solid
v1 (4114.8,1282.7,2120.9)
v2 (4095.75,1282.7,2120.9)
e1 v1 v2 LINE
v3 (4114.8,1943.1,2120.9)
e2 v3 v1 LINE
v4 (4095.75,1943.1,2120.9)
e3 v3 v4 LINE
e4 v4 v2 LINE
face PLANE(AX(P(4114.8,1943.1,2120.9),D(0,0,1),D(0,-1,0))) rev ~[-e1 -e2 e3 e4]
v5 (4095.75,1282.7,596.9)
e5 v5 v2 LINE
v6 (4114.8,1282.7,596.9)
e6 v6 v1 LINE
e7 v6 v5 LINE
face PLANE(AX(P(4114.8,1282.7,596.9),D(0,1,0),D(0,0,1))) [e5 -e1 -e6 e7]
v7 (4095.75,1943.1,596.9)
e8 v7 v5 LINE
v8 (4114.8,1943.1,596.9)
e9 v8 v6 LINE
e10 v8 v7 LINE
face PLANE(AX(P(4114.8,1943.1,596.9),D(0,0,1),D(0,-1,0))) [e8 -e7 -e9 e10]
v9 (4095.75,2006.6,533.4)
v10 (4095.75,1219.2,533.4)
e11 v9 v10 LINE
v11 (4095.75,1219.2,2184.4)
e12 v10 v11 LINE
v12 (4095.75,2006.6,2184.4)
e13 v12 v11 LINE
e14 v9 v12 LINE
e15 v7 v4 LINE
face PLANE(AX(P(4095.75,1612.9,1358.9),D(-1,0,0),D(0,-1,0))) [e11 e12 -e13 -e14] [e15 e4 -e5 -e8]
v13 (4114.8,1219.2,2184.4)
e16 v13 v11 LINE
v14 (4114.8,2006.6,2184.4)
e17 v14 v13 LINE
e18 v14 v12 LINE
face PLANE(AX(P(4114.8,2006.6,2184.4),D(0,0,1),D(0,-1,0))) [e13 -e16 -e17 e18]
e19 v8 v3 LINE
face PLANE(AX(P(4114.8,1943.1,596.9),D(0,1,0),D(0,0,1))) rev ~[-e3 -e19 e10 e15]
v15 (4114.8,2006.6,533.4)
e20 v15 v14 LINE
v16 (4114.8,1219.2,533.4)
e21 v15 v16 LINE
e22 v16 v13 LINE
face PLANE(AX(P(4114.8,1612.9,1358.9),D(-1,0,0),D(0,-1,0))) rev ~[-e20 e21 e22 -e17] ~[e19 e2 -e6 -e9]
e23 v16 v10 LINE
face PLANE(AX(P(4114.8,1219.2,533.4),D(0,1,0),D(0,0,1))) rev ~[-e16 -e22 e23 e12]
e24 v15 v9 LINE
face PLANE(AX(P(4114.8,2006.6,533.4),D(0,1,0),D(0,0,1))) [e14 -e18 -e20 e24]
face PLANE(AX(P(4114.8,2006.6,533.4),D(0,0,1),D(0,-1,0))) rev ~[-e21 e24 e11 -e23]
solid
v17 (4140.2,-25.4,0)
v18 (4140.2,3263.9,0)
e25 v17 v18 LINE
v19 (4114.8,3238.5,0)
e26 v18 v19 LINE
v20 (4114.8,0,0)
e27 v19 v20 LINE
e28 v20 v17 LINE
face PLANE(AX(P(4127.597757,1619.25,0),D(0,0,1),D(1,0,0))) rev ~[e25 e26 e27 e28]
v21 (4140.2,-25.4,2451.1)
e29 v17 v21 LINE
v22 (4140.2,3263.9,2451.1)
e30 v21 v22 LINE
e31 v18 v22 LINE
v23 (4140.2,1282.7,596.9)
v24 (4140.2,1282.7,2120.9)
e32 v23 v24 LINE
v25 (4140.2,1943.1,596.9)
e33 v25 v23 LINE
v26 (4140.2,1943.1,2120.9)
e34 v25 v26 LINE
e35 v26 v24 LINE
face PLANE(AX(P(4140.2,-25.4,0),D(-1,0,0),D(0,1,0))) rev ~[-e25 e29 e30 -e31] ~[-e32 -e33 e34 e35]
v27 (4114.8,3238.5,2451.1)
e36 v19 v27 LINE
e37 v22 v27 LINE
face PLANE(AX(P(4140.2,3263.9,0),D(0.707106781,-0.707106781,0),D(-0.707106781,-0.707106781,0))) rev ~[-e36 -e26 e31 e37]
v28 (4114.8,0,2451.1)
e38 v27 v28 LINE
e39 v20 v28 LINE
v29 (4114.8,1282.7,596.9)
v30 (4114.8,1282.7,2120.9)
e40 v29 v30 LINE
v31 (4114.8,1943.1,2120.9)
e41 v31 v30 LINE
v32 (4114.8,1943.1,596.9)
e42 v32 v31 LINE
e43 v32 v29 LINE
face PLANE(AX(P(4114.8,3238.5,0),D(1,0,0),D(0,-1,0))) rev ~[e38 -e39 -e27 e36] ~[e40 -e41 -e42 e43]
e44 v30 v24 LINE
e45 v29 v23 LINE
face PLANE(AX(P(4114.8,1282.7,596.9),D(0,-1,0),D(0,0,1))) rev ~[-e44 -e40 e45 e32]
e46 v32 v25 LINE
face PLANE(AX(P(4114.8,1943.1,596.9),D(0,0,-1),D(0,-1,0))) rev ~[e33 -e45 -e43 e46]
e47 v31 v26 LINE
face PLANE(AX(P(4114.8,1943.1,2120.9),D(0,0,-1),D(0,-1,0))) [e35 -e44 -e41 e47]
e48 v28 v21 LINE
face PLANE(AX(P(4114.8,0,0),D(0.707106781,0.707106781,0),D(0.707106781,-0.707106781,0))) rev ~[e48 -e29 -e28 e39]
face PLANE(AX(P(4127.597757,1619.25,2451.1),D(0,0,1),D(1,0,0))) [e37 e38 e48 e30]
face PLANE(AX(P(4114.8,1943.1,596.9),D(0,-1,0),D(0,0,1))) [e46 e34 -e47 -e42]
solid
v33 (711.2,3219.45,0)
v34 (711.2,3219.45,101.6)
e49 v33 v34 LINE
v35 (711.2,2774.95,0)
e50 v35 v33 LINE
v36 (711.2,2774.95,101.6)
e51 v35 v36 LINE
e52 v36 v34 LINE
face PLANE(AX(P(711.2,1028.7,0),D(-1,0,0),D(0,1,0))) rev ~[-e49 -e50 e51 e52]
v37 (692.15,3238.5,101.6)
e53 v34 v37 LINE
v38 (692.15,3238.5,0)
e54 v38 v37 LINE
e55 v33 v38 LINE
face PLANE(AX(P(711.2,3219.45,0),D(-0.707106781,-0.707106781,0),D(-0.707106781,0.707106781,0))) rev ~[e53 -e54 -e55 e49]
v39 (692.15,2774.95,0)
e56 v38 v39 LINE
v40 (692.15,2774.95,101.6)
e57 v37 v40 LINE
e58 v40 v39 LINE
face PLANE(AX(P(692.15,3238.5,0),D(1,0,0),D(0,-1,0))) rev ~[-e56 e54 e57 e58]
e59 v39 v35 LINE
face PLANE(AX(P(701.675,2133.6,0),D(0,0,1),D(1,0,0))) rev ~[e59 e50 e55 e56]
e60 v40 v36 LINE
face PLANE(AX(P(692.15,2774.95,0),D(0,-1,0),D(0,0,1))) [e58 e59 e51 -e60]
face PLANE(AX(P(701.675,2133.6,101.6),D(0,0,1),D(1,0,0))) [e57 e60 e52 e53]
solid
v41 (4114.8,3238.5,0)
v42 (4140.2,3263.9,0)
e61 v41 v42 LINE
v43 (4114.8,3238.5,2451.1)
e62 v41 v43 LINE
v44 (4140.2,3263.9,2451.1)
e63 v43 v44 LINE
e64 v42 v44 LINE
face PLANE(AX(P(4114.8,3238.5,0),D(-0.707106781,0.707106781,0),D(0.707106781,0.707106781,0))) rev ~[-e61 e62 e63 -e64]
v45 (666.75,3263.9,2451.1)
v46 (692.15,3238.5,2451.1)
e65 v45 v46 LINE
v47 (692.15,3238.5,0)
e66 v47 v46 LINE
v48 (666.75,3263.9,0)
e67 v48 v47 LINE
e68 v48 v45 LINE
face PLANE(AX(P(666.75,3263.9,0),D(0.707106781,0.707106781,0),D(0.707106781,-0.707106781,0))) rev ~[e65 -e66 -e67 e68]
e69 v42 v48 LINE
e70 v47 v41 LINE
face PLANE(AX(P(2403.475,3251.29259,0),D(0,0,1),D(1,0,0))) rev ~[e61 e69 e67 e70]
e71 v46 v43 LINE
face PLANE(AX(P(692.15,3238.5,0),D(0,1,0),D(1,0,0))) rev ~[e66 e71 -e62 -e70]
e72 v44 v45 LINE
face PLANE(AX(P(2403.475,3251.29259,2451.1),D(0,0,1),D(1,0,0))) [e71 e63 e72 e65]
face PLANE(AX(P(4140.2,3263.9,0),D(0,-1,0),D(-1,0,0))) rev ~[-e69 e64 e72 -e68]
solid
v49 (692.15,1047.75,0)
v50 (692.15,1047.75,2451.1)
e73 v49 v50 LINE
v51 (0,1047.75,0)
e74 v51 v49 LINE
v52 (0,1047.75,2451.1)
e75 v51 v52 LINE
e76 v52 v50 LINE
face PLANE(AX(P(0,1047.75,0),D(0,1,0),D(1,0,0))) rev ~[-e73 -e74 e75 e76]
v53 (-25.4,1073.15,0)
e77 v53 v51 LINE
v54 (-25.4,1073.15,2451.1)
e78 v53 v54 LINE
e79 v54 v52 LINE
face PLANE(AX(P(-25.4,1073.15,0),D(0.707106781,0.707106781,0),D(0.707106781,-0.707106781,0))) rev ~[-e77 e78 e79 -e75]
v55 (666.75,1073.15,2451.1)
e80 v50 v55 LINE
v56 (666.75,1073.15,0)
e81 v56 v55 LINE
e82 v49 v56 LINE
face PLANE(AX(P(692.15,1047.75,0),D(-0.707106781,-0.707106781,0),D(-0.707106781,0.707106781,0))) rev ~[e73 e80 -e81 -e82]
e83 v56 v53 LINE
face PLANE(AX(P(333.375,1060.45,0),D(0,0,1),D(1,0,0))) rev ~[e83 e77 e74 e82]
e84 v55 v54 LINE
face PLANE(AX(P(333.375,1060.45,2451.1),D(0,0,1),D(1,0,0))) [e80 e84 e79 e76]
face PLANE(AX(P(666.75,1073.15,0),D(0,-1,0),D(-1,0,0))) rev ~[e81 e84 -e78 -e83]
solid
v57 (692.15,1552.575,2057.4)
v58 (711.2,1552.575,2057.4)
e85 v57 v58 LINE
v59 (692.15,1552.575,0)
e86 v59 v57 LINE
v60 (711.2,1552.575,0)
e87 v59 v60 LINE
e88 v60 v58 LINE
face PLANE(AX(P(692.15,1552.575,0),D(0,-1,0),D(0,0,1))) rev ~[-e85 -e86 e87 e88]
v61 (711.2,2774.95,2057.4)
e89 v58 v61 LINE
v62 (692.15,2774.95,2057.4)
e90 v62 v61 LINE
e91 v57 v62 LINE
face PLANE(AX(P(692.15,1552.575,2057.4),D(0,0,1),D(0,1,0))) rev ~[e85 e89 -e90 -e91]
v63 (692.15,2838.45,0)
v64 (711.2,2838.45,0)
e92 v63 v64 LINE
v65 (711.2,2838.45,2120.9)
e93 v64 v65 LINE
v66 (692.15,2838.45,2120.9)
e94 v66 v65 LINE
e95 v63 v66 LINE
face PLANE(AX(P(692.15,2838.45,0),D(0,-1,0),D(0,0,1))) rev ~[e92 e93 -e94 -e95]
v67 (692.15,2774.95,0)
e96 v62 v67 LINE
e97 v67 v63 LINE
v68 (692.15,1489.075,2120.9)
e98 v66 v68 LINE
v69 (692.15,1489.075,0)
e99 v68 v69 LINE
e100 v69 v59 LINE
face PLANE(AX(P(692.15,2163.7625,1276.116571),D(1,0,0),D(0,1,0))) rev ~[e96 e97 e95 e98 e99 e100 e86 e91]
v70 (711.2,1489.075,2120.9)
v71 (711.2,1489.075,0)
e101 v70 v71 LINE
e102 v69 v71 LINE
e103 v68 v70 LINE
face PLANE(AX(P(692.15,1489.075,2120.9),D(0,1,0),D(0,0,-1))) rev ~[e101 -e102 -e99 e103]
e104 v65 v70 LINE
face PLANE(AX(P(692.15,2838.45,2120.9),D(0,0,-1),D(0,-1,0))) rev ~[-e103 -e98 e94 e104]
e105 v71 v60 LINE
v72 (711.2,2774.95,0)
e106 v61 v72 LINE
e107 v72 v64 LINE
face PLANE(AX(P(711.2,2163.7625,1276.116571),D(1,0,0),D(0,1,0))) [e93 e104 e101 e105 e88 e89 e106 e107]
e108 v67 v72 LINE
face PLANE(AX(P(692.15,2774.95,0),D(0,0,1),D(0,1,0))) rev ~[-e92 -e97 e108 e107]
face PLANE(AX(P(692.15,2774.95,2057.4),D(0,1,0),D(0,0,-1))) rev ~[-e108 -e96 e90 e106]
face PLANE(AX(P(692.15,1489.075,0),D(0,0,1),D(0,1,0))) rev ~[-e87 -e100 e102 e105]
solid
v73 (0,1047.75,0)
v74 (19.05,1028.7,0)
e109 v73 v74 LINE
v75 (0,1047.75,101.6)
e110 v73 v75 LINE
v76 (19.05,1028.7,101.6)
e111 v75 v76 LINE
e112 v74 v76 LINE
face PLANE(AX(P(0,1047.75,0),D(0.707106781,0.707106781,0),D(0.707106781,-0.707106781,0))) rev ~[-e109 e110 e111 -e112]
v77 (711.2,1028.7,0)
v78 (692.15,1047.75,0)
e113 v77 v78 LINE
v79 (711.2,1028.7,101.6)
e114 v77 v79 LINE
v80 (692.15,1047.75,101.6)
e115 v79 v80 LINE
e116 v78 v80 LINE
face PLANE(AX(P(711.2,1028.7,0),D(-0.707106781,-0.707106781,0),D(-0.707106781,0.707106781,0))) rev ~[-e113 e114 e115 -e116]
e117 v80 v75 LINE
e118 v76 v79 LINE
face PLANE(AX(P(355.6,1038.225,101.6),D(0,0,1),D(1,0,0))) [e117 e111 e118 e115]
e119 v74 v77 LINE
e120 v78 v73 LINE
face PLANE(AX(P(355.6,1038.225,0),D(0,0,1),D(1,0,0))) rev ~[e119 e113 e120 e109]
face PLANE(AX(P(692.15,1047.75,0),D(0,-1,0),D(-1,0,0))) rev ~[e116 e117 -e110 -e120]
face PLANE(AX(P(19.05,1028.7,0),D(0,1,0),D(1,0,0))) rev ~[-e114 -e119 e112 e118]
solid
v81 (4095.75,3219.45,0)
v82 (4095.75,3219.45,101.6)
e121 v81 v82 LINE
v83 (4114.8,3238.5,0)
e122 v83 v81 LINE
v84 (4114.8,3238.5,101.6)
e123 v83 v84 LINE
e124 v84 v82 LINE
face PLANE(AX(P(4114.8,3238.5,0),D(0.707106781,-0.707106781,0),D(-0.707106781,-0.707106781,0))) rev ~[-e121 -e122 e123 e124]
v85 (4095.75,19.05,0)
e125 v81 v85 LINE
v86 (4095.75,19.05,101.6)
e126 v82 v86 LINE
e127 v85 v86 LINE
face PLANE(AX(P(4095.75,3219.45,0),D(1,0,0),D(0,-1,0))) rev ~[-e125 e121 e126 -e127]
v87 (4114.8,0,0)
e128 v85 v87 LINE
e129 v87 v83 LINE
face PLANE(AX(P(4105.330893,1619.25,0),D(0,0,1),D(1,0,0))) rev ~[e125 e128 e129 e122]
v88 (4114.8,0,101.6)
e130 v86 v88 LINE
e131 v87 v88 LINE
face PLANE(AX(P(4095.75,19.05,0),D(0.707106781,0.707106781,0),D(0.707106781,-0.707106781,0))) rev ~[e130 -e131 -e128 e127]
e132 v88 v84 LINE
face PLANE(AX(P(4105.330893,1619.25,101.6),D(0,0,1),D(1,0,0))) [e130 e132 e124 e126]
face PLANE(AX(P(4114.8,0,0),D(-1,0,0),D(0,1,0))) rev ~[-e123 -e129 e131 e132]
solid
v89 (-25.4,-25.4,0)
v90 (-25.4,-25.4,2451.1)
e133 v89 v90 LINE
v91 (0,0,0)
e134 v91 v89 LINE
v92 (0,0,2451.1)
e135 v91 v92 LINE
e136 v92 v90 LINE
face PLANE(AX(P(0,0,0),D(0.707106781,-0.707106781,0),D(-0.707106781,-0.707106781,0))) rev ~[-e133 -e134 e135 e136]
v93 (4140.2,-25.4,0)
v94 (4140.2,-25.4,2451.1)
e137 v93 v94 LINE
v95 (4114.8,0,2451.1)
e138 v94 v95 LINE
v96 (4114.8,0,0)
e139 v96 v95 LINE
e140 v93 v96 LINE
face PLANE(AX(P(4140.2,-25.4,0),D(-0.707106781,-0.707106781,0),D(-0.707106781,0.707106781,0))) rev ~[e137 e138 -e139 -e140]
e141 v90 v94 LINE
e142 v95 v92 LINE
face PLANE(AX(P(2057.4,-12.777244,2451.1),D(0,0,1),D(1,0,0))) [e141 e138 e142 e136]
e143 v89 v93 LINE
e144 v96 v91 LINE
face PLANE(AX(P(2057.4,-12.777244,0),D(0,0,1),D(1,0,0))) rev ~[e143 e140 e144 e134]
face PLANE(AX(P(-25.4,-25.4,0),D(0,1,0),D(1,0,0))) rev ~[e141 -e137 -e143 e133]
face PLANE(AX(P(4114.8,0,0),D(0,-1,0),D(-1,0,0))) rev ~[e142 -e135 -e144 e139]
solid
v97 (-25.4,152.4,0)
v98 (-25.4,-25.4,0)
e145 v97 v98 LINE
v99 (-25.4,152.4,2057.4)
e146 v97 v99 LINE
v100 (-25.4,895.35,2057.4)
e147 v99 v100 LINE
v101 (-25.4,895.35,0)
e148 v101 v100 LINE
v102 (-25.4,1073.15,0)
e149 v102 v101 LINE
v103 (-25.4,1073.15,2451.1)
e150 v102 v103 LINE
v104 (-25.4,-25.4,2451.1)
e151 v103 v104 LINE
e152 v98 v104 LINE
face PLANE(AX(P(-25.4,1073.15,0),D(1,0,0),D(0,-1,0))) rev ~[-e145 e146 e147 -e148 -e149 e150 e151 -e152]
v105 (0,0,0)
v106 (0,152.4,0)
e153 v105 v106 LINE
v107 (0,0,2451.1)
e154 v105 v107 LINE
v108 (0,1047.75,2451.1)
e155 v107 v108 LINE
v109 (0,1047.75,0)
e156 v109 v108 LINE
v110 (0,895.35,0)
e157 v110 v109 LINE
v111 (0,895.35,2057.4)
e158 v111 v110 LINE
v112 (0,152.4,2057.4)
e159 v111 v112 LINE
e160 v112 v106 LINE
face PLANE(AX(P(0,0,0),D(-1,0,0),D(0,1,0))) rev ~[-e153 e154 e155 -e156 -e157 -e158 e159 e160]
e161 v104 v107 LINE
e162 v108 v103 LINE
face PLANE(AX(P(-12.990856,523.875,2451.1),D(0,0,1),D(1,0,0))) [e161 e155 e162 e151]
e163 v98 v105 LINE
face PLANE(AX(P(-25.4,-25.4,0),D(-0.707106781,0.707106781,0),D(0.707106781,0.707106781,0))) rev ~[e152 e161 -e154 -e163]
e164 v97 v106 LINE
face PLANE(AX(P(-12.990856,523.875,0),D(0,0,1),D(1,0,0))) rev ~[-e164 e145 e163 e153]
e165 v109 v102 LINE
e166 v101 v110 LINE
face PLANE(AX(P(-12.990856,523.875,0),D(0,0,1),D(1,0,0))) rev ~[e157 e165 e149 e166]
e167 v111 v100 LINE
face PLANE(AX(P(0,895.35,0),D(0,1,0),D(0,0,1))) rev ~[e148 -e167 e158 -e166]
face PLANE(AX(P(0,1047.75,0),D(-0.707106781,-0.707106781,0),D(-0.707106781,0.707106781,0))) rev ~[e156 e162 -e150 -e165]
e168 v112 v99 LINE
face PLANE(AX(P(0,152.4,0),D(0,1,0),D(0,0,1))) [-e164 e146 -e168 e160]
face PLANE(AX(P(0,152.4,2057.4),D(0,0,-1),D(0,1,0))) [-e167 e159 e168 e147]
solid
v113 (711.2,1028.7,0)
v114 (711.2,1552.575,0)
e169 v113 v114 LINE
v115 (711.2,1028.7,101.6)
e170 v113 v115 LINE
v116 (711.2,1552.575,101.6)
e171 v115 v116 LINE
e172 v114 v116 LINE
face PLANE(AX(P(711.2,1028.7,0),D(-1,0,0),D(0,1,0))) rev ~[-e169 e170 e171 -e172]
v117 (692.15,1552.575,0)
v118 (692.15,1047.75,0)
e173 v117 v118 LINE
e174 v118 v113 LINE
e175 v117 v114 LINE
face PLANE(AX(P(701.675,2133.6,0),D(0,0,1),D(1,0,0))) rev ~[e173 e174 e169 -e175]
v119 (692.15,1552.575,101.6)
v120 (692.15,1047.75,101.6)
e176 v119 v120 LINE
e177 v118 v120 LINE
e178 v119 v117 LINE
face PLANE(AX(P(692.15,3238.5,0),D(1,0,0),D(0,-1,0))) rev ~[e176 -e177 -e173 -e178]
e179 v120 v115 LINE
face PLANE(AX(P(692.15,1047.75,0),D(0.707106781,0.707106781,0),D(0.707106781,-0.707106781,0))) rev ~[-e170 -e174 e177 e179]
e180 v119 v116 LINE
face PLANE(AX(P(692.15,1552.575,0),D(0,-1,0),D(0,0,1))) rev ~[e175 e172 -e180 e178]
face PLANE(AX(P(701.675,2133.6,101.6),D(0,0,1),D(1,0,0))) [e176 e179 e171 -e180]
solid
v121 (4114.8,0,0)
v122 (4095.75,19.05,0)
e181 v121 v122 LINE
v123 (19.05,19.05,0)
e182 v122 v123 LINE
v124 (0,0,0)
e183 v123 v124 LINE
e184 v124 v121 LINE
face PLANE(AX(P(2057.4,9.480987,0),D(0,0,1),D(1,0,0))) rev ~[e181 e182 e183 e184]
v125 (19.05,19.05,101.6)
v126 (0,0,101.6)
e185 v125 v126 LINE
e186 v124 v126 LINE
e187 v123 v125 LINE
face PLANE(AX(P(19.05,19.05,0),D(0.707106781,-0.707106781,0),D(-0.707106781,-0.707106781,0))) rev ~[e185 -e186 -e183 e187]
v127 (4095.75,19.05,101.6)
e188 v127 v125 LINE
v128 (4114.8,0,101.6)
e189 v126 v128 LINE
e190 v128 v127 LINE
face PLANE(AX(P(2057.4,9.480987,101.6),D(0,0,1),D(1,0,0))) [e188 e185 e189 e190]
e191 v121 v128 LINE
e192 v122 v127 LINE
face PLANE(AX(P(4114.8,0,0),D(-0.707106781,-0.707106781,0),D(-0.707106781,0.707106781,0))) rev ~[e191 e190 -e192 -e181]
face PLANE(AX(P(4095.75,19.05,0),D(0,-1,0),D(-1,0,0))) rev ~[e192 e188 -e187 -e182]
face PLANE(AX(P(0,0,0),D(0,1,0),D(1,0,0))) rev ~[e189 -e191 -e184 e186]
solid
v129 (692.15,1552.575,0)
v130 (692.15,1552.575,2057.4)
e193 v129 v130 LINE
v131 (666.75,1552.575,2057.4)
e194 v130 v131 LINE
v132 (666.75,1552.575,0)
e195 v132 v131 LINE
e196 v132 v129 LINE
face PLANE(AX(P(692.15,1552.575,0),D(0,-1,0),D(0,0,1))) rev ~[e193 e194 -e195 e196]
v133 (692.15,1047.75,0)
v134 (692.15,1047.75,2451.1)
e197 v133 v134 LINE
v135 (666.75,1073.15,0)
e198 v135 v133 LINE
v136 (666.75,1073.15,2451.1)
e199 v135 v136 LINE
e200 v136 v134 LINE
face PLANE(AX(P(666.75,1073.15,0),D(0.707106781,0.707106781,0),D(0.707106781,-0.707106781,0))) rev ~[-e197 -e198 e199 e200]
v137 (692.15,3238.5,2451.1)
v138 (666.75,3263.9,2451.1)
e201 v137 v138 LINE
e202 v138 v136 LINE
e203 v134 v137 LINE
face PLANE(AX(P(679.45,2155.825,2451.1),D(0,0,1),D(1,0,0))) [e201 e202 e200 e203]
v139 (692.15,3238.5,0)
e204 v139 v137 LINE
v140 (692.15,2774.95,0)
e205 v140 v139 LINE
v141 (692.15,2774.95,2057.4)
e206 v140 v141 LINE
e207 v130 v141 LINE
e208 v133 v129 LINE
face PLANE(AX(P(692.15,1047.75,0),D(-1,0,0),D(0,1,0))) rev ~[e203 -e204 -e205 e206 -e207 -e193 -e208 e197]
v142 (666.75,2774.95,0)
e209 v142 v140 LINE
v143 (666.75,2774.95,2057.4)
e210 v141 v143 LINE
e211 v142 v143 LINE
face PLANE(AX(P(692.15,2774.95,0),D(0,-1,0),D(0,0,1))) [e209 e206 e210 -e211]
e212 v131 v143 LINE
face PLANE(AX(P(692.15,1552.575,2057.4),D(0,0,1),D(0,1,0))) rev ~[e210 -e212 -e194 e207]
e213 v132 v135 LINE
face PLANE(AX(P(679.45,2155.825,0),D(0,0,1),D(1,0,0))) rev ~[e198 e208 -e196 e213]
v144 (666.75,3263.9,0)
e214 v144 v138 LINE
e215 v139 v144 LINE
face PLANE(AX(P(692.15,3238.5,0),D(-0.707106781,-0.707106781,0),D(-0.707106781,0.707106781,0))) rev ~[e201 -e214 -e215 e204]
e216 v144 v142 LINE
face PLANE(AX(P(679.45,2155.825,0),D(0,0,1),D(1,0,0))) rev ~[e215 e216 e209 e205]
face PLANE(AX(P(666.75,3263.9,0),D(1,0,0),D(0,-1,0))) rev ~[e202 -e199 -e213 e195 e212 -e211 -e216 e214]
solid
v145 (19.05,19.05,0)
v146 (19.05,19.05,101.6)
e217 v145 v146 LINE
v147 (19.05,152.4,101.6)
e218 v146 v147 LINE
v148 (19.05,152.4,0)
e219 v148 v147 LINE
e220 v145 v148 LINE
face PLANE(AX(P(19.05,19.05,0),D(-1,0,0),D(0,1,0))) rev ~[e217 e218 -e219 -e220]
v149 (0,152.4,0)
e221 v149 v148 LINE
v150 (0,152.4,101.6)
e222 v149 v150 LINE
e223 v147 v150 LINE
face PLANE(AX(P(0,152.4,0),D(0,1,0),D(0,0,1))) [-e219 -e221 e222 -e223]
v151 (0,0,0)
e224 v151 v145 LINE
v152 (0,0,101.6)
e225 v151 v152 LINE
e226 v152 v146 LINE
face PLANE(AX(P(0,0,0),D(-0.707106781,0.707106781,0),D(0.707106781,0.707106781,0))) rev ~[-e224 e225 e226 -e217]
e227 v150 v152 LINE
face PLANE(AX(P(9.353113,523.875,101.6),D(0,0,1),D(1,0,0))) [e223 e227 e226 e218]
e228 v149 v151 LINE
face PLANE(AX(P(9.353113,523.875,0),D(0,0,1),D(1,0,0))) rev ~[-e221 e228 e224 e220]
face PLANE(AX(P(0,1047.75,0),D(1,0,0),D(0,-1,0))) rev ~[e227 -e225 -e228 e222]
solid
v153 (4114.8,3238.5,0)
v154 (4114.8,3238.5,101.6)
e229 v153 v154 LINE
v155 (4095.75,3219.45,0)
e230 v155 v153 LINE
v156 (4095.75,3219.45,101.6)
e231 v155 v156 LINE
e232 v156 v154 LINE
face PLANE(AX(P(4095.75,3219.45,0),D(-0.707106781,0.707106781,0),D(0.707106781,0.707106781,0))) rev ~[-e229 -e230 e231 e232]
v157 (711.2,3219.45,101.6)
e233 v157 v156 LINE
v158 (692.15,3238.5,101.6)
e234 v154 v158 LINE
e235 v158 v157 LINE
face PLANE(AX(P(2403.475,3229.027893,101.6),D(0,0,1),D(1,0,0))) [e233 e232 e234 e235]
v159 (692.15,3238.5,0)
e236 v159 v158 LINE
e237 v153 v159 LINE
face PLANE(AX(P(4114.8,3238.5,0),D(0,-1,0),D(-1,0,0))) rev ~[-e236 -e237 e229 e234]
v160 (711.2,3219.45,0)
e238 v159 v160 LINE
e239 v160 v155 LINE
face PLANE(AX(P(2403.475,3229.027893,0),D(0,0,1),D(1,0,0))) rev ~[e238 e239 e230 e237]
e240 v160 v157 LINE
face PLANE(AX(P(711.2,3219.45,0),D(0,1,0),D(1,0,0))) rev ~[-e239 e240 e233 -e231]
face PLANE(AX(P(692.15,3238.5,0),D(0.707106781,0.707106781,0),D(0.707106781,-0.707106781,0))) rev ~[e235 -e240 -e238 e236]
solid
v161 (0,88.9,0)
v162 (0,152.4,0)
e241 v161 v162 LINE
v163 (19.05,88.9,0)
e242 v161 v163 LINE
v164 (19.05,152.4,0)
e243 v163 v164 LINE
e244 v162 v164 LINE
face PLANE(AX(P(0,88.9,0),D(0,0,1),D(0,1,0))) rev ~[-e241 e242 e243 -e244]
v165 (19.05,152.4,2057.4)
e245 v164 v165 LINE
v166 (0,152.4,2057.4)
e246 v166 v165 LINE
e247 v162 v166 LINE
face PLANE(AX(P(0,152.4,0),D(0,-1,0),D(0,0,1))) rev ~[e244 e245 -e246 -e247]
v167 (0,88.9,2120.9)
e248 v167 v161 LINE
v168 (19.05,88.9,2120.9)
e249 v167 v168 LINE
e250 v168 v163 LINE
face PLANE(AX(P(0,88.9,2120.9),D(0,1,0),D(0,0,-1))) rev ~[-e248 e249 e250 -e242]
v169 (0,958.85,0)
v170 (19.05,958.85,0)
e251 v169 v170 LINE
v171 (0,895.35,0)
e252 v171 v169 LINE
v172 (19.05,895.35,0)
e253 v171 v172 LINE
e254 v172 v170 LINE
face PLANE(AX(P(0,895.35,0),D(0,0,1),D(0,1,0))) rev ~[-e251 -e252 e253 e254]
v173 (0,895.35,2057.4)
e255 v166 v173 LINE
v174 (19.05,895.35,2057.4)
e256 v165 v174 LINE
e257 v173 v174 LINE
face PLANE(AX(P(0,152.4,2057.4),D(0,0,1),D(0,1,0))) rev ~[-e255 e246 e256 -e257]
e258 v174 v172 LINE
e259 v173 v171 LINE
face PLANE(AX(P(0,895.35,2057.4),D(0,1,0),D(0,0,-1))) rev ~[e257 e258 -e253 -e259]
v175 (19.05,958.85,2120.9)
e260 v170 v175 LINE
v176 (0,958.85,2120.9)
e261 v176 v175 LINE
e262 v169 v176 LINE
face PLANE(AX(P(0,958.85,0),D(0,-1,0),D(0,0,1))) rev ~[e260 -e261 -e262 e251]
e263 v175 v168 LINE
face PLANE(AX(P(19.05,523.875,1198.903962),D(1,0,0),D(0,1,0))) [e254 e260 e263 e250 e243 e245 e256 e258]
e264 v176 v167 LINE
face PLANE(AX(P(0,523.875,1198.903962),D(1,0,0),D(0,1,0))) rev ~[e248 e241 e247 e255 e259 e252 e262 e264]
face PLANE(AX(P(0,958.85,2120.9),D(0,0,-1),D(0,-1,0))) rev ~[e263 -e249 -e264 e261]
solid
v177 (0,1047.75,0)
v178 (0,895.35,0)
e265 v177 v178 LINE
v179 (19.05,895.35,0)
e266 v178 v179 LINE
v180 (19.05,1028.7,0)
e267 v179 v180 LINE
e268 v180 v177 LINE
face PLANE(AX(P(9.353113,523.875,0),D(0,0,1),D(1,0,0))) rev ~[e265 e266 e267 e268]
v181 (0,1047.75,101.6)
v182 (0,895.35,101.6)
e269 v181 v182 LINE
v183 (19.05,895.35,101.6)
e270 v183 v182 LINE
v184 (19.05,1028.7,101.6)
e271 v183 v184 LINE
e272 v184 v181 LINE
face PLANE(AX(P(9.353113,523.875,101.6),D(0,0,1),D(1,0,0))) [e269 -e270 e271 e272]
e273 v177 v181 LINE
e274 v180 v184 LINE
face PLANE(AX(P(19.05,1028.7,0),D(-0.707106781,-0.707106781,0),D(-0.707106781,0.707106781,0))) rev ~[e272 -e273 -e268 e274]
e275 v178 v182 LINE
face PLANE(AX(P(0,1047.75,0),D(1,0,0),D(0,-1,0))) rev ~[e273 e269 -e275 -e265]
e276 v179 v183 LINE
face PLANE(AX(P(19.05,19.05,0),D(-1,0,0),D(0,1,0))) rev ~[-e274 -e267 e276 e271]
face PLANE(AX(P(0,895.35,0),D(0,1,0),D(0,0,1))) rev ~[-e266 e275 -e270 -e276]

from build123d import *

# Parameters (mm, degrees)
F1_DEPTH       = 2451.1
F2_DEPTH       = 2451.1
F3_DEPTH       = 2451.1
F4_DEPTH       = 2451.1
F5_DEPTH       = 2451.1
F6_DEPTH       = 2451.1
F7_DEPTH       = 101.6
F8_DEPTH       = 101.6
F9_DEPTH       = 101.6
F10_DEPTH      = 101.6
F11_DEPTH      = 101.6
F12_DEPTH      = 101.6
F13_W          = 742.95
F13_H          = 2057.4
F14_DEPTH      = 19.05
F14_DEPTH_BACK = 25.4
F15_DEPTH      = 19.05
F16_W          = 1222.375
F16_H          = 2057.4
F17_DEPTH      = 25.4
F17_DEPTH_BACK = 19.05
F18_DEPTH      = 19.05
F19_W          = 660.4
F19_H          = 1524
F3_FACE1_W     = 3289.3
F3_FACE1_H     = 2451.1
F20_DEPTH      = 25.4
F19_W_2        = 787.4
F19_H_2        = 1651
F21_DEPTH      = 19.05


with BuildPart() as f1:
    # F0 (on Top) → F1 (new body)
    with BuildSketch(Plane.XY):
        Polygon((-25.4, -25.4), (0, 0), (0, 1047.75), (-25.4, 1073.15), align=None)
    extrude(amount=F1_DEPTH)


with BuildPart() as f2:
    # F0 (on Top) → F2 (new body)
    with BuildSketch(Plane.XY):
        Polygon((4114.8, 0), (0, 0), (-25.4, -25.4), (4140.2, -25.4), align=None)
    extrude(amount=F2_DEPTH)


with BuildPart() as f3:
    # F0 (on Top) → F3 (new body)
    with BuildSketch(Plane.XY):
        Polygon((4114.8, 3238.5), (4114.8, 0), (4140.2, -25.4), (4140.2, 3263.9), align=None)
    extrude(amount=F3_DEPTH)

    # F19 (on face) + F3_face1 (on face) → F20 (cut)
    with BuildSketch(Plane(origin=(4114.8, 0, 0), x_dir=(0, -1, 0), z_dir=(-1, 0, 0))):
        with Locations((-1612.9, 1358.9)):
            Rectangle(F19_W, F19_H)
    with BuildSketch(Plane(origin=(4140.2, 1619.25, 1225.55), x_dir=(0, 1, 0), z_dir=(1, 0, 0))):
        Rectangle(F3_FACE1_W, F3_FACE1_H)
    extrude(amount=-F20_DEPTH, dir=(-1, 0, 0), mode=Mode.SUBTRACT)


with BuildPart() as f4:
    # F0 (on Top) → F4 (new body)
    with BuildSketch(Plane.XY):
        Polygon((692.15, 3238.5), (4114.8, 3238.5), (4140.2, 3263.9), (666.75, 3263.9), align=None)
    extrude(amount=F4_DEPTH)


with BuildPart() as f5:
    # F0 (on Top) → F5 (new body)
    with BuildSketch(Plane.XY):
        Polygon((666.75, 1073.15), (692.15, 1047.75), (692.15, 3238.5), (666.75, 3263.9), align=None)
    extrude(amount=F5_DEPTH)


with BuildPart() as f6:
    # F0 (on Top) → F6 (new body)
    with BuildSketch(Plane.XY):
        Polygon((-25.4, 1073.15), (0, 1047.75), (692.15, 1047.75), (666.75, 1073.15), align=None)
    extrude(amount=F6_DEPTH)


with BuildPart() as f7:
    # F0 (on Top) → F7 (new body)
    with BuildSketch(Plane.XY):
        Polygon((0, 1047.75), (0, 0), (19.05, 19.05), (19.05, 1028.7), align=None)
    extrude(amount=F7_DEPTH)


with BuildPart() as f8:
    # F0 (on Top) → F8 (new body)
    with BuildSketch(Plane.XY):
        Polygon((19.05, 19.05), (0, 0), (4114.8, 0), (4095.75, 19.05), align=None)
    extrude(amount=F8_DEPTH)


with BuildPart() as f9:
    # F0 (on Top) → F9 (new body)
    with BuildSketch(Plane.XY):
        Polygon((4095.75, 19.05), (4114.8, 0), (4114.8, 3238.5), (4095.75, 3219.45), align=None)
    extrude(amount=F9_DEPTH)


with BuildPart() as f10:
    # F0 (on Top) → F10 (new body)
    with BuildSketch(Plane.XY):
        Polygon((4095.75, 3219.45), (4114.8, 3238.5), (692.15, 3238.5), (711.2, 3219.45), align=None)
    extrude(amount=F10_DEPTH)


with BuildPart() as f11:
    # F0 (on Top) → F11 (new body)
    with BuildSketch(Plane.XY):
        Polygon((692.15, 3238.5), (692.15, 1047.75), (711.2, 1028.7), (711.2, 3219.45), align=None)
    extrude(amount=F11_DEPTH)


with BuildPart() as f12:
    # F0 (on Top) → F12 (new body)
    with BuildSketch(Plane.XY):
        Polygon((692.15, 1047.75), (0, 1047.75), (19.05, 1028.7), (711.2, 1028.7), align=None)
    extrude(amount=F12_DEPTH)


with BuildPart() as f14_tool:
    # F13 (on face) → F14 (new body, two sides)
    with BuildSketch(Plane.YZ) as f14_sk:
        with Locations((523.875, 1028.7)):
            Rectangle(F13_W, F13_H)
    extrude(amount=F14_DEPTH)
    extrude(f14_sk.sketch, amount=-F14_DEPTH_BACK)


with BuildPart() as f1_1:
    add(f1.part)

    # F14: cut by f14_tool
    add(f14_tool.part, mode=Mode.SUBTRACT)


with BuildPart() as f7_1:
    add(f7.part)

    # F14: cut by f14_tool
    add(f14_tool.part, mode=Mode.SUBTRACT)


with BuildPart() as f15:
    # F13 (on face) → F15 (new body)
    with BuildSketch(Plane.YZ):
        Polygon((88.9, 2120.9), (88.9, 0), (152.4, 0), (152.4, 2057.4), (895.35, 2057.4), (895.35, 0), (958.85, 0), (958.85, 2120.9), align=None)
    extrude(amount=F15_DEPTH)


with BuildPart() as f17_tool:
    # F16 (on face) → F17 (new body, two sides)
    with BuildSketch(Plane.YZ.offset(692.15)) as f17_sk:
        with Locations((2163.7625, 1028.7)):
            Rectangle(F16_W, F16_H)
    extrude(amount=-F17_DEPTH)
    extrude(f17_sk.sketch, amount=F17_DEPTH_BACK)


with BuildPart() as f5_1:
    add(f5.part)

    # F17: cut by f17_tool
    add(f17_tool.part, mode=Mode.SUBTRACT)


with BuildPart() as f11_1:
    add(f11.part)

    # F17: cut by f17_tool
    add(f17_tool.part, mode=Mode.SUBTRACT)


with BuildPart() as f18:
    # F16 (on face) → F18 (new body)
    with BuildSketch(Plane.YZ.offset(692.15)):
        Polygon((2838.45, 2120.9), (1489.075, 2120.9), (1489.075, 0), (1552.575, 0), (1552.575, 2057.4), (2774.95, 2057.4), (2774.95, 0), (2838.45, 0), align=None)
    extrude(amount=F18_DEPTH)


with BuildPart() as f21:
    # F19 (on face) → F21 (new body)
    with BuildSketch(Plane(origin=(4114.8, 0, 0), x_dir=(0, -1, 0), z_dir=(-1, 0, 0))):
        with Locations((-1612.9, 1358.9)):
            Rectangle(F19_W_2, F19_H_2)
        with Locations((-1612.9, 1358.9)):
            Rectangle(F19_W, F19_H, mode=Mode.SUBTRACT)
    extrude(amount=F21_DEPTH)


solid = Compound([f2.part, f3.part, f4.part, f6.part, f8.part, f9.part, f10.part, f12.part, f1_1.part, f7_1.part, f15.part, f5_1.part, f11_1.part, f18.part, f21.part])
